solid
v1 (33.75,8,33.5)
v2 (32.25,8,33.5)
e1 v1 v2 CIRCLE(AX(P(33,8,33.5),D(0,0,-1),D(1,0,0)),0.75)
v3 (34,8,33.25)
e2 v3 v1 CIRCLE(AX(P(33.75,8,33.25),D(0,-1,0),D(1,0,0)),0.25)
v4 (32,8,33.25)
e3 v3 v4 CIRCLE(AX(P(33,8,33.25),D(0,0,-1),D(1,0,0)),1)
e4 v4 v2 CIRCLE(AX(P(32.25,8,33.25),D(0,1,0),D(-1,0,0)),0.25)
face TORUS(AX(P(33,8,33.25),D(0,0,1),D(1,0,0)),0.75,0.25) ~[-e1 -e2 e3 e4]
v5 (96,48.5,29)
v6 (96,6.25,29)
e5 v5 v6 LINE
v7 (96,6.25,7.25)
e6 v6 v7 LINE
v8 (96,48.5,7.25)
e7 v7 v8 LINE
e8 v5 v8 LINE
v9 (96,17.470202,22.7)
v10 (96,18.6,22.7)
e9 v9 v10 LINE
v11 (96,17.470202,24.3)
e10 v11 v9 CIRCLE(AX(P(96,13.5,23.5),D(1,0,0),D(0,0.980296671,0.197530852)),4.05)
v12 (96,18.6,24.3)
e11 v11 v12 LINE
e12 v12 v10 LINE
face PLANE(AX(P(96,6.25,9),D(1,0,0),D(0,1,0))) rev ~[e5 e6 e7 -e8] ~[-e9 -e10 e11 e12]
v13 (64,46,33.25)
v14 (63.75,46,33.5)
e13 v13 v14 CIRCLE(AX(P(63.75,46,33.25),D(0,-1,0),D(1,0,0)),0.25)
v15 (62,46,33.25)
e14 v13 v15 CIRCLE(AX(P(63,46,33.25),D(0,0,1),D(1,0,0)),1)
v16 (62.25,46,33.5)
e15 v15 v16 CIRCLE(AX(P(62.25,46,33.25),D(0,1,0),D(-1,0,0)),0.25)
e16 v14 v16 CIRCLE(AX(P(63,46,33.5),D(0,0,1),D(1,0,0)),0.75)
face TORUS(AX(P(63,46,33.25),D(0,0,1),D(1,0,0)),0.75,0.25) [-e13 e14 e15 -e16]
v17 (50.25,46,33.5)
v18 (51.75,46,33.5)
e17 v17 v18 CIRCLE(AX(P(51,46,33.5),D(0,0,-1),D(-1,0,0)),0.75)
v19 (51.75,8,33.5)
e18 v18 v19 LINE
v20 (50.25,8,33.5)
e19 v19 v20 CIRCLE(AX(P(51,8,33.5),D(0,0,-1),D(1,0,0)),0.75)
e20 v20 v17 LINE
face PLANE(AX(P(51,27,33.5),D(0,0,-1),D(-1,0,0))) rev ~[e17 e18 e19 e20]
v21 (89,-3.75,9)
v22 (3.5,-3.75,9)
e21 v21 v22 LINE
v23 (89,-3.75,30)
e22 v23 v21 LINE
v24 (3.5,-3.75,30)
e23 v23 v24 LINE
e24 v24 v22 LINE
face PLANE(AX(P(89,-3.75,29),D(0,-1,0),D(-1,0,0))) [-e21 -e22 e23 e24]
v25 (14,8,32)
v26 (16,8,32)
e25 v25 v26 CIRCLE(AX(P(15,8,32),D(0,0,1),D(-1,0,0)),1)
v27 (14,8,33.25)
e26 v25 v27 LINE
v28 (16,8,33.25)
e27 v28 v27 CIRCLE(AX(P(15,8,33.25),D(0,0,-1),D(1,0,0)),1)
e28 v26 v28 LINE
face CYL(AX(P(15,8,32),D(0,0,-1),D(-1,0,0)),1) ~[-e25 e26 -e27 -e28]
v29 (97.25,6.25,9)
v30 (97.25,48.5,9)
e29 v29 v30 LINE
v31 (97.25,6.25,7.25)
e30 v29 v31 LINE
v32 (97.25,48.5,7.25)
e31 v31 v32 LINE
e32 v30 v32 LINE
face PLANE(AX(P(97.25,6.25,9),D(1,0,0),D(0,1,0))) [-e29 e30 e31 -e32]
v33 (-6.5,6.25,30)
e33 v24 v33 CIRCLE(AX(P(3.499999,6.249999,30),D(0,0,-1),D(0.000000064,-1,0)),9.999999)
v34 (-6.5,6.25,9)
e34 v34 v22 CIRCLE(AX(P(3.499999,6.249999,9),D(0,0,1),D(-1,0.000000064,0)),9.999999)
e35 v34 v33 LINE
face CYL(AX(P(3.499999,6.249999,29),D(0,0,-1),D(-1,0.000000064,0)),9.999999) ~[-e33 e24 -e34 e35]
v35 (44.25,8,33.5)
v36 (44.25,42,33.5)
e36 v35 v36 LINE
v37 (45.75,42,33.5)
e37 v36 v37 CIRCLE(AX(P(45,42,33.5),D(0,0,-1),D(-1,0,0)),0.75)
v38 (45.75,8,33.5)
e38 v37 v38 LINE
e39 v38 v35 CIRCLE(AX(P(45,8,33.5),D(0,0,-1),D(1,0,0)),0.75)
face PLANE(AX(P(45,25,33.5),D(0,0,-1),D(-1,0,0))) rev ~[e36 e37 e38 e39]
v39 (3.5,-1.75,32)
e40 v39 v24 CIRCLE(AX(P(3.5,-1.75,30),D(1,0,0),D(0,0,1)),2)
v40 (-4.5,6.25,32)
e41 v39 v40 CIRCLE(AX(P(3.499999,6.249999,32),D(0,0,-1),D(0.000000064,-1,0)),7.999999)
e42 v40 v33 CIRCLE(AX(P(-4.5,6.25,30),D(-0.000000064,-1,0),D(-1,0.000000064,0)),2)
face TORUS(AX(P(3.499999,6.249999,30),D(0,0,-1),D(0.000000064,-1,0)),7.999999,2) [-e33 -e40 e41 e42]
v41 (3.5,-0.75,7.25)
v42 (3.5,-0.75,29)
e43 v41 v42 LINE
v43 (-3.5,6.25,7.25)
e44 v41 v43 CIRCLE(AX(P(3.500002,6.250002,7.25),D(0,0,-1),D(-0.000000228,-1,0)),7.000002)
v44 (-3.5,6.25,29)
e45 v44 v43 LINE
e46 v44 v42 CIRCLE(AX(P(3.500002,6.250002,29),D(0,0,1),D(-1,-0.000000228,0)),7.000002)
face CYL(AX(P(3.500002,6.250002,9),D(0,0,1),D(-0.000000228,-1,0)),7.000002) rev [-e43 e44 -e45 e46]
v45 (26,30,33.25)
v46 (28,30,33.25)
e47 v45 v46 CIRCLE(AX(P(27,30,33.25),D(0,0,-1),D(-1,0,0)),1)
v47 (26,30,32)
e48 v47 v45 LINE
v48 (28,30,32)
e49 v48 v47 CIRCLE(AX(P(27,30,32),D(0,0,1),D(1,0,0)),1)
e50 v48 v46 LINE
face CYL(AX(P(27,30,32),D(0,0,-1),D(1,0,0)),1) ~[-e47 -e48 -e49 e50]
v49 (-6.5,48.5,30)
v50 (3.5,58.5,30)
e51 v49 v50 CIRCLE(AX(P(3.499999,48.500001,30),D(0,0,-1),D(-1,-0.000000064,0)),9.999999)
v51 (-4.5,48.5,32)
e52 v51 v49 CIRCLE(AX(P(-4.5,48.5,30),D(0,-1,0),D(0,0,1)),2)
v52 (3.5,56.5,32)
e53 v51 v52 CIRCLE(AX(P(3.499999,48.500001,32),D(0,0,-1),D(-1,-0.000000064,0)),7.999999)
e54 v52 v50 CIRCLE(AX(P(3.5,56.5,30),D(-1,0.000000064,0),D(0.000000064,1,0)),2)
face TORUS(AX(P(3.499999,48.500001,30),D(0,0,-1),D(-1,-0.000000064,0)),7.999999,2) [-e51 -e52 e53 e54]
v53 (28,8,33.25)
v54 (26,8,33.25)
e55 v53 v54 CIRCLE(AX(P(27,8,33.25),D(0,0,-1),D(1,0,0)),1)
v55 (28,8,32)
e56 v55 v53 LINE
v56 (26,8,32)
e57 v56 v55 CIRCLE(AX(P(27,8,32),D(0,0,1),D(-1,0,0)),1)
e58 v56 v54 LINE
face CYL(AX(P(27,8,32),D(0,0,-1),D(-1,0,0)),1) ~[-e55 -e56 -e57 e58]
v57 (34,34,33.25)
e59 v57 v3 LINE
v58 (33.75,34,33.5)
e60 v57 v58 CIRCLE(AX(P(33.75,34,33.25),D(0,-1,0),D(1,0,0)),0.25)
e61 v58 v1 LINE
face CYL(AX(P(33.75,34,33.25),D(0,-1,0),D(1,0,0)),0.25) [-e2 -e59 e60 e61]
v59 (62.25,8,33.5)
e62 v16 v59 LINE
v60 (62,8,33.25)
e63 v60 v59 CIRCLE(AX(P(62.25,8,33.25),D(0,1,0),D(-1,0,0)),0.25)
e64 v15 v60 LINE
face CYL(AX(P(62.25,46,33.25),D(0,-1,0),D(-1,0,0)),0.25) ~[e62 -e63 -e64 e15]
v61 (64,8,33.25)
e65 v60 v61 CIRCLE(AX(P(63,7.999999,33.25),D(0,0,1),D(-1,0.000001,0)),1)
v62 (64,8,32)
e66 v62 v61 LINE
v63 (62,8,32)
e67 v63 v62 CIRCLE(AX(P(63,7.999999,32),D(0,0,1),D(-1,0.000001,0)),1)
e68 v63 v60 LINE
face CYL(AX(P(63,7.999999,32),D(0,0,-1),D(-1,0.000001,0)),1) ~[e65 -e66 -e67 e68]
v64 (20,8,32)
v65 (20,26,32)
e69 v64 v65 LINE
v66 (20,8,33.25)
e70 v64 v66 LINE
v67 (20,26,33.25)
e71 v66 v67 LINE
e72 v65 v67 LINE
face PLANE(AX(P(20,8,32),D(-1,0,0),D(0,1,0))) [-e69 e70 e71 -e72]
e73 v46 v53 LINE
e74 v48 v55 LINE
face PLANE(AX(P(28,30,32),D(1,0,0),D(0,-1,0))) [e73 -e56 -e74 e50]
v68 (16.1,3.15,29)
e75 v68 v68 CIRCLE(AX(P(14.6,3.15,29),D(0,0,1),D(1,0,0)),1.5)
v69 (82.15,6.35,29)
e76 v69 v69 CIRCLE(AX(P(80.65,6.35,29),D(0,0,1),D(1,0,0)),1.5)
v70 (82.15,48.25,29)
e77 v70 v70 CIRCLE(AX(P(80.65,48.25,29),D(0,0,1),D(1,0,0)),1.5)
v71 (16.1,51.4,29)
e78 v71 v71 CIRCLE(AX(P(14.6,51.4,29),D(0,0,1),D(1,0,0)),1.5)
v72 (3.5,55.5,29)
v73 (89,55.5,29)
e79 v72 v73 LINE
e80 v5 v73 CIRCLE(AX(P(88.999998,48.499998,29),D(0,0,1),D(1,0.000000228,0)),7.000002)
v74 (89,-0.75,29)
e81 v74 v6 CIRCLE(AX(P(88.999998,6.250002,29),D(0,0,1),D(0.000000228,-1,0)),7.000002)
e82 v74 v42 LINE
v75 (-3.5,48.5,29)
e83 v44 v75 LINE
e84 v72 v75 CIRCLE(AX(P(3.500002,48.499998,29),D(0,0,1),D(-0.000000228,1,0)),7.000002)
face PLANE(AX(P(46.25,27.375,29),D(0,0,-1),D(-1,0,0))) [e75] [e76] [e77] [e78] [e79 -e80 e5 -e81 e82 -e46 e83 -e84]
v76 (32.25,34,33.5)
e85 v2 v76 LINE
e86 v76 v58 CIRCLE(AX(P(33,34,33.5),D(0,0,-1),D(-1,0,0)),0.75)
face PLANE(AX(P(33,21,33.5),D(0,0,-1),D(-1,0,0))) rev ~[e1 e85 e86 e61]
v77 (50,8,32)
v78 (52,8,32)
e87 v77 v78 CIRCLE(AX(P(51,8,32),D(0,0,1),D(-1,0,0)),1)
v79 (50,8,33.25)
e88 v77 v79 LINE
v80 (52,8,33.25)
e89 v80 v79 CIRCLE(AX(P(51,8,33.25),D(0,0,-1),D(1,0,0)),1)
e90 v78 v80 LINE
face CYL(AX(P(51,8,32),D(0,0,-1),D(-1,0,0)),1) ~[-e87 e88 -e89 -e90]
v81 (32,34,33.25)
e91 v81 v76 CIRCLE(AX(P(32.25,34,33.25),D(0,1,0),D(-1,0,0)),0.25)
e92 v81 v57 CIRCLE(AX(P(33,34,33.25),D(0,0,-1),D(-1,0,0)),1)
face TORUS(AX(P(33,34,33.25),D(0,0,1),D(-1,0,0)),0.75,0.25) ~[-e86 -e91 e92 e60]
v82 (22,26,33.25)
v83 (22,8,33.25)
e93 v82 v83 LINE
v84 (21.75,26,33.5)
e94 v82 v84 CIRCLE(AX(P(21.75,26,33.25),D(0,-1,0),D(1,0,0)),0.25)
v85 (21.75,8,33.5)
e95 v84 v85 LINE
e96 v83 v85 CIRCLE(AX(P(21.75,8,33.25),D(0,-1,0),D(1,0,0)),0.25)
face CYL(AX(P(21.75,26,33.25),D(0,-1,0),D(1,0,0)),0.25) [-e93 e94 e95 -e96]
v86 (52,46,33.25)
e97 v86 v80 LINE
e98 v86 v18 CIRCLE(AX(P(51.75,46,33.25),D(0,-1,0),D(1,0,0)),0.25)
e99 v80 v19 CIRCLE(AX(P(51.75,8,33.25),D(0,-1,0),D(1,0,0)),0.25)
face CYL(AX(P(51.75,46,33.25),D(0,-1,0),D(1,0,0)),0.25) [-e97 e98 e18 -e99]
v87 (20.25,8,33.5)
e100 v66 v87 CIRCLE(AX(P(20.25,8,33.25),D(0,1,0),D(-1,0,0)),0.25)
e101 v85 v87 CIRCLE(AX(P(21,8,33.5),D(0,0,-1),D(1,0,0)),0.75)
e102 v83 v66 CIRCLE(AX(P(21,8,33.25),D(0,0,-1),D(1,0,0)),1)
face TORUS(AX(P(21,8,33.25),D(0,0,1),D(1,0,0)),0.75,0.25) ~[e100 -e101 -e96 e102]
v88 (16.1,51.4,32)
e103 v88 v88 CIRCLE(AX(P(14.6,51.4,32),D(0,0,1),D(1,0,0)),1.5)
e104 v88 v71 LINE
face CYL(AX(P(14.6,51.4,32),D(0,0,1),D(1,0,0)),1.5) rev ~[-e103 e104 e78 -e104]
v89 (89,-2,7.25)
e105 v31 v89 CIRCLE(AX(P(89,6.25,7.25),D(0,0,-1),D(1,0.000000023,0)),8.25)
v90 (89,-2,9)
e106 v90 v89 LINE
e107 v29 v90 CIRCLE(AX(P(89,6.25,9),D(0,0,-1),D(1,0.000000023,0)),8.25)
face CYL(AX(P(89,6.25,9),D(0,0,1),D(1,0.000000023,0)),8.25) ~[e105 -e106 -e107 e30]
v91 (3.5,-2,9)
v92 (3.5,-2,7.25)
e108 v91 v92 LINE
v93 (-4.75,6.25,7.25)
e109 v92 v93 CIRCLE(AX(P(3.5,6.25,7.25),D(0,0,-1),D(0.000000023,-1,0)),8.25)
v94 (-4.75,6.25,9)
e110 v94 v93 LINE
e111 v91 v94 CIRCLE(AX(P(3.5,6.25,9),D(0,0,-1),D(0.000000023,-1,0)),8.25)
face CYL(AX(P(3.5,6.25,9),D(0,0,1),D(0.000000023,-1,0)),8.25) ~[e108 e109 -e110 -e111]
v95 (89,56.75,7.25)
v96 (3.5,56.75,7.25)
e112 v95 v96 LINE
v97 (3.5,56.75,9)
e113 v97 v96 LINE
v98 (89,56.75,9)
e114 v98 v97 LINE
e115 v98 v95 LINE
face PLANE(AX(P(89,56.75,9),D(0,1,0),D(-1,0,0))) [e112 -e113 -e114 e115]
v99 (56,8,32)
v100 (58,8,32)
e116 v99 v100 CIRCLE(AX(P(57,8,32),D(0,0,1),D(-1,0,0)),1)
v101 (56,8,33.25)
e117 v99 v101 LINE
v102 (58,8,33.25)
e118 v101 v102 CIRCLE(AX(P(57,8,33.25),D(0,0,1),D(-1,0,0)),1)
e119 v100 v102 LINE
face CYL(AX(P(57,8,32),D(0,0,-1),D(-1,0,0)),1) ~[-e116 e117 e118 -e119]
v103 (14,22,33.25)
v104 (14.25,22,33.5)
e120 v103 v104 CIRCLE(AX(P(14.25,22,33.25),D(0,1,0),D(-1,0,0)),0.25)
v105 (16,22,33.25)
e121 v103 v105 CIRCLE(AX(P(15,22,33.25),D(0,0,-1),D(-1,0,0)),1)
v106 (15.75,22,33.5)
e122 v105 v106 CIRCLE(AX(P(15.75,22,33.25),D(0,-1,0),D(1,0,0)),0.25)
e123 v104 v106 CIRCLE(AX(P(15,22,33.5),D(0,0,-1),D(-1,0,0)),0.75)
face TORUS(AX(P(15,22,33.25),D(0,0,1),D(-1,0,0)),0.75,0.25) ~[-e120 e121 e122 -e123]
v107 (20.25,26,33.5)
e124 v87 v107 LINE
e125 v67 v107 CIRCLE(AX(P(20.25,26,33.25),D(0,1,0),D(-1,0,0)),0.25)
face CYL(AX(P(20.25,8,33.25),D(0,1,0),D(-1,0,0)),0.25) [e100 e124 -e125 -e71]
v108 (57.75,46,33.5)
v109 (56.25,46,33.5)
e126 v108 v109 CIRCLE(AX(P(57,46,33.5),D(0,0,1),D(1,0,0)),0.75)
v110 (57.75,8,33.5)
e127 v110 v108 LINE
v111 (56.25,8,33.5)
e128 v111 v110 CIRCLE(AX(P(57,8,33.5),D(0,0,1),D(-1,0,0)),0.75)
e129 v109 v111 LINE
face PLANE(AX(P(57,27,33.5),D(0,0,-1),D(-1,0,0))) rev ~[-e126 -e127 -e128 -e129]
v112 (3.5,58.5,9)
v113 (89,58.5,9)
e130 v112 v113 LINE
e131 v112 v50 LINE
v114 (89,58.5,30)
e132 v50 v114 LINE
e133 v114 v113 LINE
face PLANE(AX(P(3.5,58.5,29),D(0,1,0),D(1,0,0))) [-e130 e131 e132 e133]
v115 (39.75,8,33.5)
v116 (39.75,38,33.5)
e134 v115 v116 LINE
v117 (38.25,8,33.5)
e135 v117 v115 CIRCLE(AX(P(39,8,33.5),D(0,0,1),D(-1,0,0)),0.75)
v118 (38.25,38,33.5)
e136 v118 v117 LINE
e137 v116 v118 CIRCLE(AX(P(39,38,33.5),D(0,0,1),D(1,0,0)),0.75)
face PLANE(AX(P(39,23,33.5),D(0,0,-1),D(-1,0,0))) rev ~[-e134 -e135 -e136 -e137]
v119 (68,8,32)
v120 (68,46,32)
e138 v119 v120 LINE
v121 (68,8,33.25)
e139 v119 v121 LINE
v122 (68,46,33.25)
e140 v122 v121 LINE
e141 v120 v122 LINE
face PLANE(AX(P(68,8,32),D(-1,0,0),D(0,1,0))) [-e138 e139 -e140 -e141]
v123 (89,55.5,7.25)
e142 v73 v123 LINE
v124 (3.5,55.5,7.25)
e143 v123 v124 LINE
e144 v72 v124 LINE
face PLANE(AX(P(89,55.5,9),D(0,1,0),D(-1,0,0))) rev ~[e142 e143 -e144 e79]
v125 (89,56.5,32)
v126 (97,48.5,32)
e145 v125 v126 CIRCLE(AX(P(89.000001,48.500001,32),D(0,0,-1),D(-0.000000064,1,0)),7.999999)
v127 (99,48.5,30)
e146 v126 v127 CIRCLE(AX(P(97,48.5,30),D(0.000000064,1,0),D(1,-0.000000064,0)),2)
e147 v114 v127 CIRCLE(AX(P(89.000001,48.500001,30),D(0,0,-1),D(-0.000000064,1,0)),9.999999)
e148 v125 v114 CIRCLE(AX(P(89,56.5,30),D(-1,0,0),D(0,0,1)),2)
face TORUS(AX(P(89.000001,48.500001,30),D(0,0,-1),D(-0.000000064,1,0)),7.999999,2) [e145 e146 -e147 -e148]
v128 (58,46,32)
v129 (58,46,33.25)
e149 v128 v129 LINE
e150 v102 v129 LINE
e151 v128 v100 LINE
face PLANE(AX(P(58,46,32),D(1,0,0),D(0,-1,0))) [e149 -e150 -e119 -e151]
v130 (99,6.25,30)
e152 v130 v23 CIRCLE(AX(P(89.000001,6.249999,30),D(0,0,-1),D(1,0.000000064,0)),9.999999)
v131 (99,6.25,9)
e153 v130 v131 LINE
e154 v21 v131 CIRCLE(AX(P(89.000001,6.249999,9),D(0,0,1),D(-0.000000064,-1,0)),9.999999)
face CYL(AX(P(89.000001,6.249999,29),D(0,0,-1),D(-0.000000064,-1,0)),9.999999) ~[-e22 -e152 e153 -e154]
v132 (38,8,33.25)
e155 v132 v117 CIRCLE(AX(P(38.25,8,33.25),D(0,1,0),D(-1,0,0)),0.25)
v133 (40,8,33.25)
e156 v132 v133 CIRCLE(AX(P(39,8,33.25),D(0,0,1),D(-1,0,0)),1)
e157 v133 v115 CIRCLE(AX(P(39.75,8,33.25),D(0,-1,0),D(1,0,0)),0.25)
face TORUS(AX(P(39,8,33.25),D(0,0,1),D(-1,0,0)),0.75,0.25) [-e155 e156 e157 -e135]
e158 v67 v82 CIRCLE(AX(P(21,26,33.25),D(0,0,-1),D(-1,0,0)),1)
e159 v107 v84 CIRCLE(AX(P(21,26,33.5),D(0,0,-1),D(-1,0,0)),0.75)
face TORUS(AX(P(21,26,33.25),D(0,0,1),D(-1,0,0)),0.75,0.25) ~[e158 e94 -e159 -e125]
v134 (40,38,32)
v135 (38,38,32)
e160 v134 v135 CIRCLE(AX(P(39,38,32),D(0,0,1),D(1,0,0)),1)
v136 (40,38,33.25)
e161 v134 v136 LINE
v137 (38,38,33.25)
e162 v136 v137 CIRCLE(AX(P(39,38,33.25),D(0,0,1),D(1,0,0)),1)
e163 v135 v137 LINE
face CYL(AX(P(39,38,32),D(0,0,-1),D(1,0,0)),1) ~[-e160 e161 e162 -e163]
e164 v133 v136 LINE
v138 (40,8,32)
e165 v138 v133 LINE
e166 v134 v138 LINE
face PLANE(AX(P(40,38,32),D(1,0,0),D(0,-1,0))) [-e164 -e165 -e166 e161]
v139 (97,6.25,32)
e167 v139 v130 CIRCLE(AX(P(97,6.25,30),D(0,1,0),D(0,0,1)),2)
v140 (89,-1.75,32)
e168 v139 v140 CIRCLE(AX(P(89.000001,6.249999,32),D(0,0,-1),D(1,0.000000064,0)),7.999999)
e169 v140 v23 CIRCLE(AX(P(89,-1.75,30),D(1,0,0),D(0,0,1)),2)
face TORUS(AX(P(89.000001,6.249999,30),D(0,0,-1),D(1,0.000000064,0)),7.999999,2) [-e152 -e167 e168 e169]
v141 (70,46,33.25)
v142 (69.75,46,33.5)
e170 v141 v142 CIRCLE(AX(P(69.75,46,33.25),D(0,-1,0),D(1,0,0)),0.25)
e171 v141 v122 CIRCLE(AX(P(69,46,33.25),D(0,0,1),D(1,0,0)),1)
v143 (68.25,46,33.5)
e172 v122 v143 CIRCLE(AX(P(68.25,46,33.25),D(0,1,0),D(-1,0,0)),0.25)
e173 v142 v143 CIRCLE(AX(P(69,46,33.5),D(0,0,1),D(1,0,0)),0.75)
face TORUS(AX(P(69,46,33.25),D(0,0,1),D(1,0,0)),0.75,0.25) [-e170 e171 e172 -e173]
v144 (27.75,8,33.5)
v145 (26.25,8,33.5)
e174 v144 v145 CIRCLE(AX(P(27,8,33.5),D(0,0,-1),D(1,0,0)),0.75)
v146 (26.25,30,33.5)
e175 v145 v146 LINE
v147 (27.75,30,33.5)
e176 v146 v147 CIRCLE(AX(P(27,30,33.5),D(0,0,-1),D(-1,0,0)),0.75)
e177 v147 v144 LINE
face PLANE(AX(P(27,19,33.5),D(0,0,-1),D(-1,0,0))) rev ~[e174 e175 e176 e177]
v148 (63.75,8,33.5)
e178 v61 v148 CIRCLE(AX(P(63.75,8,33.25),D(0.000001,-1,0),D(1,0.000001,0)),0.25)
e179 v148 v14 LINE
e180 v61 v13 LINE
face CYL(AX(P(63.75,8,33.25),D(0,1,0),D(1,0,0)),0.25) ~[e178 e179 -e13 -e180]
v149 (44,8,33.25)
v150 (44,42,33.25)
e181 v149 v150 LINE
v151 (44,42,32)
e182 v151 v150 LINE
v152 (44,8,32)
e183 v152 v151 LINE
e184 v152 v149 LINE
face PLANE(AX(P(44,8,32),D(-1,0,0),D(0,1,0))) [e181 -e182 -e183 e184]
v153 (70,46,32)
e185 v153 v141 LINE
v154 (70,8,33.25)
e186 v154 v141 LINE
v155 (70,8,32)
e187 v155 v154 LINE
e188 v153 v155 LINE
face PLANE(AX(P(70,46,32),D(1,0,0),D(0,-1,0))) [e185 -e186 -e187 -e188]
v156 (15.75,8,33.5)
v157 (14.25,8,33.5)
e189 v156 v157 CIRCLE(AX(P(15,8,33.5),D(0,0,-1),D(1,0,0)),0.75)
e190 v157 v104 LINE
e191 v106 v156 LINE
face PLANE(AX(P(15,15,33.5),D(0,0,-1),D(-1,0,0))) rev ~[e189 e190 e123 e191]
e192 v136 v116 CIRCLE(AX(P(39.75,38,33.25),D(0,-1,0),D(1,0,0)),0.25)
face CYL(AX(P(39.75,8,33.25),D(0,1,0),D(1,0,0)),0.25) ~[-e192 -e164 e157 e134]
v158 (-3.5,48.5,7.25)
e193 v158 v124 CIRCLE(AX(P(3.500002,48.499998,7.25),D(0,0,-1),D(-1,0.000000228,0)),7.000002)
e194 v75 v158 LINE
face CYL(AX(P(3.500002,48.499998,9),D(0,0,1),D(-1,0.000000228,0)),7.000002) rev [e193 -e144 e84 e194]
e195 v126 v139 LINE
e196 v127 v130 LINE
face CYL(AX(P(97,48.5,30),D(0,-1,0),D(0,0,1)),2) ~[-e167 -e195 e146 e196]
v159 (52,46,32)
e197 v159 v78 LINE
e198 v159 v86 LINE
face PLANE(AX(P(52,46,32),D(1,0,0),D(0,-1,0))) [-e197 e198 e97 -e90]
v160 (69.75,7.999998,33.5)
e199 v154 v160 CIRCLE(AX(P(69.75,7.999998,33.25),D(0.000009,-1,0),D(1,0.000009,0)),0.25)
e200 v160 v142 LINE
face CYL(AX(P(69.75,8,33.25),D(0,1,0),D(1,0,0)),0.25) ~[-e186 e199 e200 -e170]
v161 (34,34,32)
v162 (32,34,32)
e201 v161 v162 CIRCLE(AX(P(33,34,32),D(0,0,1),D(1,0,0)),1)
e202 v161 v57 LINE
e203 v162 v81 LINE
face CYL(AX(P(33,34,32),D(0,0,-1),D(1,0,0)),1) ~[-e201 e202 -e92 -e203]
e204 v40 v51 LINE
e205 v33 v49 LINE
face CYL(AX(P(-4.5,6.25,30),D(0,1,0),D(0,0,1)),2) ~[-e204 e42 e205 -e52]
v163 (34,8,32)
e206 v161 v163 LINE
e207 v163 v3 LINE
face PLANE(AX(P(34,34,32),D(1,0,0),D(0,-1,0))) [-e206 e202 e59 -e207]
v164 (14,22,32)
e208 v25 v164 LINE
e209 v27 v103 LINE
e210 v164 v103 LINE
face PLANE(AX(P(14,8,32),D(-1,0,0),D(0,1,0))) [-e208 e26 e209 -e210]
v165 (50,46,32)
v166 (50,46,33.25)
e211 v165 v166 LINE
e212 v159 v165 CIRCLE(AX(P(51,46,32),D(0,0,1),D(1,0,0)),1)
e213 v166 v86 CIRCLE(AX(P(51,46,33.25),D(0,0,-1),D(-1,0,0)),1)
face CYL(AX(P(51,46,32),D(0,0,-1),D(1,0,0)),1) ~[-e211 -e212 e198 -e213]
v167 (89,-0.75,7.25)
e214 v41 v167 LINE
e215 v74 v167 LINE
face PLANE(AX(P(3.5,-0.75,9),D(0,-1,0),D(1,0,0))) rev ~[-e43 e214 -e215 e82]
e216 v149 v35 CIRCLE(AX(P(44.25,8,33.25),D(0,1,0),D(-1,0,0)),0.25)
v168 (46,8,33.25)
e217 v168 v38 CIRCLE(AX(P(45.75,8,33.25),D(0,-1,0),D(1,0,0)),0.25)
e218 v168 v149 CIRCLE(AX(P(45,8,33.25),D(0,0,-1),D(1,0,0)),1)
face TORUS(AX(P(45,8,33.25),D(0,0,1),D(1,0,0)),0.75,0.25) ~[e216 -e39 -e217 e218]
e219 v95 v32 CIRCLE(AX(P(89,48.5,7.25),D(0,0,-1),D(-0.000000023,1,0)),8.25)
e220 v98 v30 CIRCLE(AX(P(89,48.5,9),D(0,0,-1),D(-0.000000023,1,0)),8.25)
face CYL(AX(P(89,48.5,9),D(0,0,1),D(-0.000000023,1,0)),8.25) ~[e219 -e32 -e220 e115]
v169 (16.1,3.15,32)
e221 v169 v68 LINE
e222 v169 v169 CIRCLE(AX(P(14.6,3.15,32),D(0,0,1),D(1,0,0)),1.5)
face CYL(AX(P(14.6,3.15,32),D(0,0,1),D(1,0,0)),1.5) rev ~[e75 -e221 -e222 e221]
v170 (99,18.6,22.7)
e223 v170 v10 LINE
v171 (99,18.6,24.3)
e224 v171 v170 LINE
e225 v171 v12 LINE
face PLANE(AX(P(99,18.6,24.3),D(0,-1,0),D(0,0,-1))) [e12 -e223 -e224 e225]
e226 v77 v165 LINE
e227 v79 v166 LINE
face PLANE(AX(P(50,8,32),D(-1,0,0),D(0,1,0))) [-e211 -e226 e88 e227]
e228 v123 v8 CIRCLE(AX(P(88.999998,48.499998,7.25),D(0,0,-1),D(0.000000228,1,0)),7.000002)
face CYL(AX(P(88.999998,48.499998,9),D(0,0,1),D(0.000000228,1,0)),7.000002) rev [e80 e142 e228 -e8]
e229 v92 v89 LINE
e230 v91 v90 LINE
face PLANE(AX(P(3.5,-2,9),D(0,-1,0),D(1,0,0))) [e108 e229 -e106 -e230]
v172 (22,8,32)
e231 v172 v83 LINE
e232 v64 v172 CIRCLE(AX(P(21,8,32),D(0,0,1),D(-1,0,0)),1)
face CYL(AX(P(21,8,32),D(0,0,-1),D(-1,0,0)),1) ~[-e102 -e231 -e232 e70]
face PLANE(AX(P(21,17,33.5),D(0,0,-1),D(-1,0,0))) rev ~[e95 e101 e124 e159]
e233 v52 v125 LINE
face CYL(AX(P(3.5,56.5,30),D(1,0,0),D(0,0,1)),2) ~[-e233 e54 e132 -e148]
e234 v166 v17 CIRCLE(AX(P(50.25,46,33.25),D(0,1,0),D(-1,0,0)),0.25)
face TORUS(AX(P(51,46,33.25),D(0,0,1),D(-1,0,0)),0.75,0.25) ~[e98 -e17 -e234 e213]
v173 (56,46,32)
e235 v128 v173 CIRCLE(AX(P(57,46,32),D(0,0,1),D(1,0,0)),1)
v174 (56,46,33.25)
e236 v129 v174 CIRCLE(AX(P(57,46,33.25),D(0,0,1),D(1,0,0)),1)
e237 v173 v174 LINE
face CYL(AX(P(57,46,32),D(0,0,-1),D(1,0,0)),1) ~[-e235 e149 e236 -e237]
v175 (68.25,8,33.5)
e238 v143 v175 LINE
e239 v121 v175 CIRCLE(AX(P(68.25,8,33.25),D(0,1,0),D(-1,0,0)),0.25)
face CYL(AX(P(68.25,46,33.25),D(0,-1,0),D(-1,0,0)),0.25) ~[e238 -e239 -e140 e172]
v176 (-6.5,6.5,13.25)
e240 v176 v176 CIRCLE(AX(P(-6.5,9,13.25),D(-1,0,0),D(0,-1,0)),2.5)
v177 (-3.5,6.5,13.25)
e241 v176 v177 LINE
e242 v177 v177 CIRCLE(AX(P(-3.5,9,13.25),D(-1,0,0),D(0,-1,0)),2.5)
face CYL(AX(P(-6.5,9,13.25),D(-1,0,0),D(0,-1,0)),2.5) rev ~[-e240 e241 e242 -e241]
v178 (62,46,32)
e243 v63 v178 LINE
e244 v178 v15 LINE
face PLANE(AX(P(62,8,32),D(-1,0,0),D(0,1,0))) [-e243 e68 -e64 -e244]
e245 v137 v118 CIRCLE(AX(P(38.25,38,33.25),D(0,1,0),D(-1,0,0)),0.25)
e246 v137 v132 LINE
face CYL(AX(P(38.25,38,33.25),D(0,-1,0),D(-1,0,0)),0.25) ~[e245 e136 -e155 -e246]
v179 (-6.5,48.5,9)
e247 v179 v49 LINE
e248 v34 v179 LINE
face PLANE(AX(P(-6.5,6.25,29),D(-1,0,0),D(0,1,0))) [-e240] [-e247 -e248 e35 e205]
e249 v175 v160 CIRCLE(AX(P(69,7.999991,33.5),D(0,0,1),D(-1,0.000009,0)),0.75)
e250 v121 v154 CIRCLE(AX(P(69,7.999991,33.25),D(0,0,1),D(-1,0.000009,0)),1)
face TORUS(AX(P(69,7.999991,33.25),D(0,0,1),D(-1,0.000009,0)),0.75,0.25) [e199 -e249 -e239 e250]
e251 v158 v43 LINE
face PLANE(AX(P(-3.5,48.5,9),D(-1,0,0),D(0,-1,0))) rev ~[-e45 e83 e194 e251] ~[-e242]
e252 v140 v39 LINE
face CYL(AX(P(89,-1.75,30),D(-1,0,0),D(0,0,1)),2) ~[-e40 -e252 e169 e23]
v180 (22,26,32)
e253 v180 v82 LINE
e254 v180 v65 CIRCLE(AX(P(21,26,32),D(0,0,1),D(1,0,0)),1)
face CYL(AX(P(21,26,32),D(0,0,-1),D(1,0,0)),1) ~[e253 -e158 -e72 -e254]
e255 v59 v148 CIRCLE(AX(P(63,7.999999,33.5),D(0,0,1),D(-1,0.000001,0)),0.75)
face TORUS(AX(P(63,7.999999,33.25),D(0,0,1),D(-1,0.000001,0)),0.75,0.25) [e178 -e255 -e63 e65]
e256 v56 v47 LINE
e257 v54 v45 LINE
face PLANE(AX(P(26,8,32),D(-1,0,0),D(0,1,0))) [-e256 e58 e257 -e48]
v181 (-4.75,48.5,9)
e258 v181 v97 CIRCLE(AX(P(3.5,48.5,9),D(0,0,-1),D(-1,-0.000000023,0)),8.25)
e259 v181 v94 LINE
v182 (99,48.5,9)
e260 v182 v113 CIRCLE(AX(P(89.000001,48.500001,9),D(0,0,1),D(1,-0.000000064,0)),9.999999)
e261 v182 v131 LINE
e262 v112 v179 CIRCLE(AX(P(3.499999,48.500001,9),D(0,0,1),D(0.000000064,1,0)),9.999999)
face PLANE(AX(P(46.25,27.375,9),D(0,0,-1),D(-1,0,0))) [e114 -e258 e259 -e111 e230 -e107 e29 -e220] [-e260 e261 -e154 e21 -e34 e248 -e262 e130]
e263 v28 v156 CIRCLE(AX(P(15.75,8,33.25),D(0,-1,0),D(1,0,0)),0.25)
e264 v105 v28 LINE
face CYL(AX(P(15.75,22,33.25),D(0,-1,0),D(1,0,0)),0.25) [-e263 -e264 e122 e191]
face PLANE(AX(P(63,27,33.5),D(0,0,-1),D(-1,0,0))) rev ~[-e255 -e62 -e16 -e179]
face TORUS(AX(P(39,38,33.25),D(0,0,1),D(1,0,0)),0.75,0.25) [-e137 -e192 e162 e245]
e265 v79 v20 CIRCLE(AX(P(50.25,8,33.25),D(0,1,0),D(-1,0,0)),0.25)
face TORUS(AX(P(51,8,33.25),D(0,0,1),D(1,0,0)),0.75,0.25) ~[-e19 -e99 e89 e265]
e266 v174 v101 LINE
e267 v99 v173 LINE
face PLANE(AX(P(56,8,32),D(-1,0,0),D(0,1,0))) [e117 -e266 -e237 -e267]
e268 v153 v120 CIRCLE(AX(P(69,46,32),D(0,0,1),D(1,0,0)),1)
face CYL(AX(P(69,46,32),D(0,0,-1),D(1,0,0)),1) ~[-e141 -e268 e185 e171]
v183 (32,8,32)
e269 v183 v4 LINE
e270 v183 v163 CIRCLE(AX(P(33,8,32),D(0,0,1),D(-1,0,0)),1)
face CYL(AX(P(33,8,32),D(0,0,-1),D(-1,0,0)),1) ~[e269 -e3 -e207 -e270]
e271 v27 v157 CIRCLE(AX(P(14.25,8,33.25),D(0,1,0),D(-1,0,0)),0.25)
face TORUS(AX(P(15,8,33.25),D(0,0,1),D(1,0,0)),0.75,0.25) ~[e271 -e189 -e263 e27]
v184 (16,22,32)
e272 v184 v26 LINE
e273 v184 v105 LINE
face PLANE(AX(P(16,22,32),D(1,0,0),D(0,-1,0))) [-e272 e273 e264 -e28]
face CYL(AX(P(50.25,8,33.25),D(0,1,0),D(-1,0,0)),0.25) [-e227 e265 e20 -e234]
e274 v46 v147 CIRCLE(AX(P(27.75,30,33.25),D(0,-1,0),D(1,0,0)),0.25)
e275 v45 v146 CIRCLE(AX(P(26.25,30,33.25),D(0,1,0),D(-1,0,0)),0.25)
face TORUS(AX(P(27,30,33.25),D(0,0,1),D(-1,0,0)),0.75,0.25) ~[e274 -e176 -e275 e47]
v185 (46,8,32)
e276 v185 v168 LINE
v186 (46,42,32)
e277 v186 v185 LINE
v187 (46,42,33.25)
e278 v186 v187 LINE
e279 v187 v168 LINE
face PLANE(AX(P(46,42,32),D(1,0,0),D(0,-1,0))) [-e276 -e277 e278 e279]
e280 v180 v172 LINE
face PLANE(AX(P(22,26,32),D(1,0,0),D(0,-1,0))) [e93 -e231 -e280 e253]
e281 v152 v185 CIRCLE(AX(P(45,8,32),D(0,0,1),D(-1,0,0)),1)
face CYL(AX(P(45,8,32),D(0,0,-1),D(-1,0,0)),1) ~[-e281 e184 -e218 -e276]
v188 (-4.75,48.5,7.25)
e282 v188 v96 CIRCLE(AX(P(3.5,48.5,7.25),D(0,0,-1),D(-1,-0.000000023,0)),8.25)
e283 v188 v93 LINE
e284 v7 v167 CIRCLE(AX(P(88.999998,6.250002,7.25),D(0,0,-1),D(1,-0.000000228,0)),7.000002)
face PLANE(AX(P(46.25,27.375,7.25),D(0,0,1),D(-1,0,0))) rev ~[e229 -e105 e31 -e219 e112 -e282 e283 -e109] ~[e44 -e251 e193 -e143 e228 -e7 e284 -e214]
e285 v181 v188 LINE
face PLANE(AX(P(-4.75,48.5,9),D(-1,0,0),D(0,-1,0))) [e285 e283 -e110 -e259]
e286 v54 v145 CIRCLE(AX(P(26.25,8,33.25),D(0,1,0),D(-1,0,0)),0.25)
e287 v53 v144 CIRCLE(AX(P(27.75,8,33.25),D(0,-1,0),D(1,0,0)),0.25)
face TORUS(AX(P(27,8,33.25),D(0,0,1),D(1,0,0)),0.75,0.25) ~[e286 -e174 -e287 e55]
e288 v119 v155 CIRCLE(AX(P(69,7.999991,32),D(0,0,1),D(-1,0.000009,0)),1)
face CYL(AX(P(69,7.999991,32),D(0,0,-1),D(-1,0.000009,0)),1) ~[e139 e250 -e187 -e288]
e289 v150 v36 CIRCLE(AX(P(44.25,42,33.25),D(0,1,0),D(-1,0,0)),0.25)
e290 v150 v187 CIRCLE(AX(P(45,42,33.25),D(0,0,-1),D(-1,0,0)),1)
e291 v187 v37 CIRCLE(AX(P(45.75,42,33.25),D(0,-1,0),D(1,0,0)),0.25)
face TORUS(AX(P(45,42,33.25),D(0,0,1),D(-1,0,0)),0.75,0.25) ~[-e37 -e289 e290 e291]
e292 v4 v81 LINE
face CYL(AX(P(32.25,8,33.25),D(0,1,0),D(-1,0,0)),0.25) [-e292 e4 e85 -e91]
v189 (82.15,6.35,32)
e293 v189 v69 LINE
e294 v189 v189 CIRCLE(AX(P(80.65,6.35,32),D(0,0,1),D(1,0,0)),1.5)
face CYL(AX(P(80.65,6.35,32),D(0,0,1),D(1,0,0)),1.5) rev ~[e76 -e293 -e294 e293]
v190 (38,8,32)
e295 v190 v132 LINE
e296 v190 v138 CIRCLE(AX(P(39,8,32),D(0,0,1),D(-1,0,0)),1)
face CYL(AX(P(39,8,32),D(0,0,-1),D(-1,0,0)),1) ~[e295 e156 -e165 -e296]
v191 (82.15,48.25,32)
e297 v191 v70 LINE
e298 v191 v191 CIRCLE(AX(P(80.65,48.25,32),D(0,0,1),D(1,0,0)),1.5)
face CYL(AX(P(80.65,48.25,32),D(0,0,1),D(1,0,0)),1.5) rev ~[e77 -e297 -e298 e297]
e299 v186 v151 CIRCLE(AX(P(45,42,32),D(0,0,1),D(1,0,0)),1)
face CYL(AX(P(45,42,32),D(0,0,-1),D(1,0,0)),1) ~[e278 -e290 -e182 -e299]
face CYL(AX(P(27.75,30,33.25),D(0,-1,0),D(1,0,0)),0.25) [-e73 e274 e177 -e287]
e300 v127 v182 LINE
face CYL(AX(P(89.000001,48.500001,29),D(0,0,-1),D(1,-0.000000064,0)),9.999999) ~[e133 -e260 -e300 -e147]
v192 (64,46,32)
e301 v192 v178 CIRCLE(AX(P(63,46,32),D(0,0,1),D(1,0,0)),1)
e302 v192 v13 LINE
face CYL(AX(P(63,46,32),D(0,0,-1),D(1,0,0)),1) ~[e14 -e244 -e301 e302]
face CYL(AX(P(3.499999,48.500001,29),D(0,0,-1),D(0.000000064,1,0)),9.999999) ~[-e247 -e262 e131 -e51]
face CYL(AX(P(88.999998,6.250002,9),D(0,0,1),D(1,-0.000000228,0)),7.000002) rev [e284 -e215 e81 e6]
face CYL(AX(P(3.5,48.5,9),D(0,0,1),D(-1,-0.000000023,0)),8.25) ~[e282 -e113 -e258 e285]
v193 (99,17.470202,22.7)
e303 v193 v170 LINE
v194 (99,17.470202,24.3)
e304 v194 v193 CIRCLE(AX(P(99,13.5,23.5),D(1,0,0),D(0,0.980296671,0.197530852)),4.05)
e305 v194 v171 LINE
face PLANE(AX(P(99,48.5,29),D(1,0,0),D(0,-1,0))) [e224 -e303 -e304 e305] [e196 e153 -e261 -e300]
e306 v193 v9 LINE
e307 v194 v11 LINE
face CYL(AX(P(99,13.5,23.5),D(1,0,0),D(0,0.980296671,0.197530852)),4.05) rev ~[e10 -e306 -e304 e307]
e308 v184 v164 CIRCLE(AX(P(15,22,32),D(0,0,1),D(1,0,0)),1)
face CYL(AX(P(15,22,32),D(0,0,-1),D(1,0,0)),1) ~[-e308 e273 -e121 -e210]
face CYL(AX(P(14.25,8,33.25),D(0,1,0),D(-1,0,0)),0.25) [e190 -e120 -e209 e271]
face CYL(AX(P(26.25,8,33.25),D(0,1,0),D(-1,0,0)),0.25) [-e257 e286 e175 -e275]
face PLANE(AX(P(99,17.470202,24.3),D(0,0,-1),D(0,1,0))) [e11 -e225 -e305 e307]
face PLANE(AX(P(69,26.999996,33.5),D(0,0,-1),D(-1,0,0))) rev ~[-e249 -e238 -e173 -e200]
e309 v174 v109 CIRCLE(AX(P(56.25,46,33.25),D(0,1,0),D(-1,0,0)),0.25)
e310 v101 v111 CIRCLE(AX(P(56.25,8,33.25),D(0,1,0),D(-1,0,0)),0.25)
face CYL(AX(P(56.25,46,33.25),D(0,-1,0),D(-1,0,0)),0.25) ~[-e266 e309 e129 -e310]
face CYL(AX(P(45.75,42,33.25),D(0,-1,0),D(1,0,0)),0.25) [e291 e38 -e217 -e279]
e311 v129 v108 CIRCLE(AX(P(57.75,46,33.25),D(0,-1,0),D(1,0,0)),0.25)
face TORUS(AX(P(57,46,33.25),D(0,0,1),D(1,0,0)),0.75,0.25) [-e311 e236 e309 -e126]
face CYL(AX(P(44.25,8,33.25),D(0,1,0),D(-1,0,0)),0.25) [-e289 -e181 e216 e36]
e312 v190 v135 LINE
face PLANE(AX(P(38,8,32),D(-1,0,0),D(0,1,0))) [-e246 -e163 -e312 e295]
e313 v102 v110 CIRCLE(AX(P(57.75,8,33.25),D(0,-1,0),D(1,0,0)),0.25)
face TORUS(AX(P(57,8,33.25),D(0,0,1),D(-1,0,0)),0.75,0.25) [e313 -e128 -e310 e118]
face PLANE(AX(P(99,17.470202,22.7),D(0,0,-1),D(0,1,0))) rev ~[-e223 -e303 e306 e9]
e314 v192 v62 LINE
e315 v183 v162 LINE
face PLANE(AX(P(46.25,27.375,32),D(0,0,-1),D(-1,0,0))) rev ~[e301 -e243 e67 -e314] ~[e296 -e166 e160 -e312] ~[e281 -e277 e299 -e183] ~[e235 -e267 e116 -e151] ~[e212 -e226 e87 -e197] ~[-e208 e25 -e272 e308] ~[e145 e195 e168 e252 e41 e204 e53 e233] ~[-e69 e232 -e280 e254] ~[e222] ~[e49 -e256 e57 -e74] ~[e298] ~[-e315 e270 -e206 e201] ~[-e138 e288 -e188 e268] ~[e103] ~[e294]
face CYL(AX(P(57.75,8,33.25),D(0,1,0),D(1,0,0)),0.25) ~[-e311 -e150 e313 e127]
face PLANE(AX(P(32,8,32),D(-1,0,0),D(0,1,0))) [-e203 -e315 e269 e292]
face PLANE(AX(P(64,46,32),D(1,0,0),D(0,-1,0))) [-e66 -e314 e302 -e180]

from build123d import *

# Parameters (mm, degrees)
PAD004_DEPTH    = 20
PAD005_DEPTH    = 1.75
PAD006_DEPTH    = 3
SKETCH010_R     = 1.5
POCKET007_DEPTH = 3
SKETCH013_R     = 2.5
POCKET008_DEPTH = 3
POCKET009_DEPTH = 3
PAD009_DEPTH    = 1.5
FILLET_R        = 2
FILLET002_R     = 0.25


with BuildPart() as part:
    # Sketch007 → Pad004 (new body)
    with BuildSketch(Plane.XY.offset(9)):
        with BuildLine():
            Line((3.5, 58.5), (89, 58.5))
            ThreePointArc((99, 48.5), (96.071068, 55.571068), (89, 58.5))
            Line((99, 48.5), (99, 6.25))
            ThreePointArc((89, -3.75), (96.071068, -0.821068), (99, 6.25))
            Line((89, -3.75), (3.5, -3.75))
            ThreePointArc((-6.5, 6.25), (-3.571068, -0.821068), (3.5, -3.75))
            Line((-6.5, 6.25), (-6.5, 48.5))
            ThreePointArc((3.5, 58.5), (-3.571068, 55.571068), (-6.5, 48.5))
        make_face()
        with BuildLine():
            Line((3.5, 55.5), (89, 55.5))
            ThreePointArc((96, 48.5), (93.949747, 53.449747), (89, 55.5))
            Line((96, 48.5), (96, 6.25))
            ThreePointArc((89, -0.75), (93.949747, 1.300253), (96, 6.25))
            Line((89, -0.75), (3.5, -0.75))
            ThreePointArc((-3.5, 6.25), (-1.449747, 1.300253), (3.5, -0.75))
            Line((-3.5, 6.25), (-3.5, 48.5))
            ThreePointArc((3.5, 55.5), (-1.449747, 53.449747), (-3.5, 48.5))
        make_face(mode=Mode.SUBTRACT)
    extrude(amount=PAD004_DEPTH)

    # Sketch008 → Pad005 (new body)
    with BuildSketch(Plane(origin=(0, 0, 9), x_dir=(1, 0, 0), z_dir=(0, 0, -1))):
        with BuildLine():
            Line((3.5, 2), (89, 2))
            ThreePointArc((97.25, -6.25), (94.833631, -0.416369), (89, 2))
            Line((97.25, -6.25), (97.25, -48.5))
            ThreePointArc((89, -56.75), (94.833631, -54.333631), (97.25, -48.5))
            Line((89, -56.75), (3.5, -56.75))
            ThreePointArc((-4.75, -48.5), (-2.333631, -54.333631), (3.5, -56.75))
            Line((-4.75, -48.5), (-4.75, -6.25))
            ThreePointArc((3.5, 2), (-2.333631, -0.416369), (-4.75, -6.25))
        make_face()
        with BuildLine():
            Line((3.5, 0.75), (89, 0.75))
            ThreePointArc((96, -6.25), (93.949747, -1.300253), (89, 0.75))
            Line((96, -6.25), (96, -48.5))
            ThreePointArc((89, -55.5), (93.949747, -53.449747), (96, -48.5))
            Line((89, -55.5), (3.5, -55.5))
            ThreePointArc((-3.5, -48.5), (-1.449747, -53.449747), (3.5, -55.5))
            Line((-3.5, -48.5), (-3.5, -6.25))
            ThreePointArc((3.5, 0.75), (-1.449747, -1.300253), (-3.5, -6.25))
        make_face(mode=Mode.SUBTRACT)
    extrude(amount=PAD005_DEPTH)

    # Sketch009 → Pad006 (new body)
    with BuildSketch(Plane.XY.offset(29)):
        with BuildLine():
            Line((3.5, 58.5), (89, 58.5))
            ThreePointArc((99, 48.5), (96.071068, 55.571068), (89, 58.5))
            Line((99, 48.5), (99, 6.25))
            ThreePointArc((89, -3.75), (96.071068, -0.821068), (99, 6.25))
            Line((89, -3.75), (3.5, -3.75))
            ThreePointArc((-6.5, 6.25), (-3.571068, -0.821068), (3.5, -3.75))
            Line((-6.5, 6.25), (-6.5, 48.5))
            ThreePointArc((3.5, 58.5), (-3.571068, 55.571068), (-6.5, 48.5))
        make_face()
    extrude(amount=PAD006_DEPTH)

    # Sketch010 → Pocket007 (cut)
    with BuildSketch(Plane.XY.offset(32)):
        with Locations((14.6, 3.15)):
            Circle(SKETCH010_R)
        with Locations((14.6, 51.4)):
            Circle(SKETCH010_R)
        with Locations((80.65, 48.25)):
            Circle(SKETCH010_R)
        with Locations((80.65, 6.35)):
            Circle(SKETCH010_R)
    extrude(amount=-POCKET007_DEPTH, mode=Mode.SUBTRACT)

    # Sketch013 → Pocket008 (cut)
    with BuildSketch(Plane(origin=(-6.5, 0, 9), x_dir=(0, -1, 0), z_dir=(-1, 0, 0))):
        with Locations((-9, 4.25)):
            Circle(SKETCH013_R)
    extrude(amount=-POCKET008_DEPTH, mode=Mode.SUBTRACT)

    # Sketch012 → Pocket009 (cut)
    with BuildSketch(Plane(origin=(99, 0, 9), x_dir=(0, 1, 0), z_dir=(1, 0, 0))):
        with BuildLine():
            ThreePointArc((17.470202, 15.3), (9.45, 14.5), (17.470202, 13.7))
            Line((17.470202, 13.7), (18.6, 13.7))
            Line((18.6, 14.5), (18.6, 13.7))
            Line((18.6, 15.3), (18.6, 14.5))
            Line((17.470202, 15.3), (18.6, 15.3))
        make_face()
    extrude(amount=-POCKET009_DEPTH, mode=Mode.SUBTRACT)

    # Sketch015 → Pad009 (new body)
    with BuildSketch(Plane.XY.offset(32)):
        with BuildLine():
            Line((16, 22), (16, 8))
            ThreePointArc((14, 8), (15, 7), (16, 8))
            Line((14, 8), (14, 22))
            ThreePointArc((16, 22), (15, 23), (14, 22))
        make_face()
        with BuildLine():
            Line((22, 26), (22, 8))
            ThreePointArc((20, 8), (21, 7), (22, 8))
            Line((20, 8), (20, 26))
            ThreePointArc((22, 26), (21, 27), (20, 26))
        make_face()
        with BuildLine():
            Line((28, 30), (28, 8))
            ThreePointArc((26, 8), (27, 7), (28, 8))
            Line((26, 8), (26, 30))
            ThreePointArc((28, 30), (27, 31), (26, 30))
        make_face()
        with BuildLine():
            Line((34, 34), (34, 8))
            ThreePointArc((32, 8), (33, 7), (34, 8))
            Line((32, 8), (32, 34))
            ThreePointArc((34, 34), (33, 35), (32, 34))
        make_face()
        with BuildLine():
            Line((40, 38), (40, 8))
            ThreePointArc((38, 8), (39, 7), (40, 8))
            Line((38, 8), (38, 38))
            ThreePointArc((40, 38), (39, 39), (38, 38))
        make_face()
        with BuildLine():
            Line((46, 42), (46, 8))
            ThreePointArc((44, 8), (45, 7), (46, 8))
            Line((44, 8), (44, 42))
            ThreePointArc((46, 42), (45, 43), (44, 42))
        make_face()
        with BuildLine():
            Line((52, 46), (52, 8))
            ThreePointArc((50, 8), (51, 7), (52, 8))
            Line((50, 8), (50, 46))
            ThreePointArc((52, 46), (51, 47), (50, 46))
        make_face()
        with BuildLine():
            Line((58, 46), (58, 8))
            ThreePointArc((56, 8), (57, 7), (58, 8))
            Line((56, 8), (56, 46))
            ThreePointArc((58, 46), (57, 47), (56, 46))
        make_face()
        with BuildLine():
            Line((64, 46), (64, 8))
            ThreePointArc((62, 8), (63, 6.999999), (64, 8))
            Line((62, 8), (62, 46))
            ThreePointArc((64, 46), (63, 47), (62, 46))
        make_face()
        with BuildLine():
            Line((70, 46), (70, 8))
            ThreePointArc((68, 8), (69, 6.999991), (70, 8))
            Line((68, 8), (68, 46))
            ThreePointArc((70, 46), (69, 47), (68, 46))
        make_face()
    extrude(amount=PAD009_DEPTH)

    # Fillet
    fillet_edges = [part.edges().sort_by_distance(p)[0] for p in [
        (46.25, -3.75, 32),
    ]]
    fillet(fillet_edges, radius=FILLET_R)

    # Fillet002
    fillet002_edges = [part.edges().sort_by_distance(p)[0] for p in [
        (20, 17, 33.5),
        (21, 27, 33.5),
        (22, 17, 33.5),
        (21, 7, 33.5),
        (14, 15, 33.5),
        (15, 23, 33.5),
        (16, 15, 33.5),
        (15, 7, 33.5),
        (26, 19, 33.5),
        (27, 31, 33.5),
        (28, 19, 33.5),
        (27, 7, 33.5),
        (32, 21, 33.5),
        (33, 35, 33.5),
        (34, 21, 33.5),
        (33, 7, 33.5),
        (39, 39, 33.5),
        (40, 23, 33.5),
        (39, 7, 33.5),
        (38, 23, 33.5),
        (44, 25, 33.5),
        (45, 43, 33.5),
        (46, 25, 33.5),
        (45, 7, 33.5),
        (50, 27, 33.5),
        (51, 47, 33.5),
        (52, 27, 33.5),
        (51, 7, 33.5),
        (57, 47, 33.5),
        (58, 27, 33.5),
        (57, 7, 33.5),
        (56, 27, 33.5),
        (63, 47, 33.5),
        (64, 27, 33.5),
        (63, 6.999999, 33.5),
        (62, 27, 33.5),
        (69, 47, 33.5),
        (70, 27, 33.5),
        (69, 6.999991, 33.5),
        (68, 27, 33.5),
    ]]
    fillet(fillet002_edges, radius=FILLET002_R)


solid = part.part
